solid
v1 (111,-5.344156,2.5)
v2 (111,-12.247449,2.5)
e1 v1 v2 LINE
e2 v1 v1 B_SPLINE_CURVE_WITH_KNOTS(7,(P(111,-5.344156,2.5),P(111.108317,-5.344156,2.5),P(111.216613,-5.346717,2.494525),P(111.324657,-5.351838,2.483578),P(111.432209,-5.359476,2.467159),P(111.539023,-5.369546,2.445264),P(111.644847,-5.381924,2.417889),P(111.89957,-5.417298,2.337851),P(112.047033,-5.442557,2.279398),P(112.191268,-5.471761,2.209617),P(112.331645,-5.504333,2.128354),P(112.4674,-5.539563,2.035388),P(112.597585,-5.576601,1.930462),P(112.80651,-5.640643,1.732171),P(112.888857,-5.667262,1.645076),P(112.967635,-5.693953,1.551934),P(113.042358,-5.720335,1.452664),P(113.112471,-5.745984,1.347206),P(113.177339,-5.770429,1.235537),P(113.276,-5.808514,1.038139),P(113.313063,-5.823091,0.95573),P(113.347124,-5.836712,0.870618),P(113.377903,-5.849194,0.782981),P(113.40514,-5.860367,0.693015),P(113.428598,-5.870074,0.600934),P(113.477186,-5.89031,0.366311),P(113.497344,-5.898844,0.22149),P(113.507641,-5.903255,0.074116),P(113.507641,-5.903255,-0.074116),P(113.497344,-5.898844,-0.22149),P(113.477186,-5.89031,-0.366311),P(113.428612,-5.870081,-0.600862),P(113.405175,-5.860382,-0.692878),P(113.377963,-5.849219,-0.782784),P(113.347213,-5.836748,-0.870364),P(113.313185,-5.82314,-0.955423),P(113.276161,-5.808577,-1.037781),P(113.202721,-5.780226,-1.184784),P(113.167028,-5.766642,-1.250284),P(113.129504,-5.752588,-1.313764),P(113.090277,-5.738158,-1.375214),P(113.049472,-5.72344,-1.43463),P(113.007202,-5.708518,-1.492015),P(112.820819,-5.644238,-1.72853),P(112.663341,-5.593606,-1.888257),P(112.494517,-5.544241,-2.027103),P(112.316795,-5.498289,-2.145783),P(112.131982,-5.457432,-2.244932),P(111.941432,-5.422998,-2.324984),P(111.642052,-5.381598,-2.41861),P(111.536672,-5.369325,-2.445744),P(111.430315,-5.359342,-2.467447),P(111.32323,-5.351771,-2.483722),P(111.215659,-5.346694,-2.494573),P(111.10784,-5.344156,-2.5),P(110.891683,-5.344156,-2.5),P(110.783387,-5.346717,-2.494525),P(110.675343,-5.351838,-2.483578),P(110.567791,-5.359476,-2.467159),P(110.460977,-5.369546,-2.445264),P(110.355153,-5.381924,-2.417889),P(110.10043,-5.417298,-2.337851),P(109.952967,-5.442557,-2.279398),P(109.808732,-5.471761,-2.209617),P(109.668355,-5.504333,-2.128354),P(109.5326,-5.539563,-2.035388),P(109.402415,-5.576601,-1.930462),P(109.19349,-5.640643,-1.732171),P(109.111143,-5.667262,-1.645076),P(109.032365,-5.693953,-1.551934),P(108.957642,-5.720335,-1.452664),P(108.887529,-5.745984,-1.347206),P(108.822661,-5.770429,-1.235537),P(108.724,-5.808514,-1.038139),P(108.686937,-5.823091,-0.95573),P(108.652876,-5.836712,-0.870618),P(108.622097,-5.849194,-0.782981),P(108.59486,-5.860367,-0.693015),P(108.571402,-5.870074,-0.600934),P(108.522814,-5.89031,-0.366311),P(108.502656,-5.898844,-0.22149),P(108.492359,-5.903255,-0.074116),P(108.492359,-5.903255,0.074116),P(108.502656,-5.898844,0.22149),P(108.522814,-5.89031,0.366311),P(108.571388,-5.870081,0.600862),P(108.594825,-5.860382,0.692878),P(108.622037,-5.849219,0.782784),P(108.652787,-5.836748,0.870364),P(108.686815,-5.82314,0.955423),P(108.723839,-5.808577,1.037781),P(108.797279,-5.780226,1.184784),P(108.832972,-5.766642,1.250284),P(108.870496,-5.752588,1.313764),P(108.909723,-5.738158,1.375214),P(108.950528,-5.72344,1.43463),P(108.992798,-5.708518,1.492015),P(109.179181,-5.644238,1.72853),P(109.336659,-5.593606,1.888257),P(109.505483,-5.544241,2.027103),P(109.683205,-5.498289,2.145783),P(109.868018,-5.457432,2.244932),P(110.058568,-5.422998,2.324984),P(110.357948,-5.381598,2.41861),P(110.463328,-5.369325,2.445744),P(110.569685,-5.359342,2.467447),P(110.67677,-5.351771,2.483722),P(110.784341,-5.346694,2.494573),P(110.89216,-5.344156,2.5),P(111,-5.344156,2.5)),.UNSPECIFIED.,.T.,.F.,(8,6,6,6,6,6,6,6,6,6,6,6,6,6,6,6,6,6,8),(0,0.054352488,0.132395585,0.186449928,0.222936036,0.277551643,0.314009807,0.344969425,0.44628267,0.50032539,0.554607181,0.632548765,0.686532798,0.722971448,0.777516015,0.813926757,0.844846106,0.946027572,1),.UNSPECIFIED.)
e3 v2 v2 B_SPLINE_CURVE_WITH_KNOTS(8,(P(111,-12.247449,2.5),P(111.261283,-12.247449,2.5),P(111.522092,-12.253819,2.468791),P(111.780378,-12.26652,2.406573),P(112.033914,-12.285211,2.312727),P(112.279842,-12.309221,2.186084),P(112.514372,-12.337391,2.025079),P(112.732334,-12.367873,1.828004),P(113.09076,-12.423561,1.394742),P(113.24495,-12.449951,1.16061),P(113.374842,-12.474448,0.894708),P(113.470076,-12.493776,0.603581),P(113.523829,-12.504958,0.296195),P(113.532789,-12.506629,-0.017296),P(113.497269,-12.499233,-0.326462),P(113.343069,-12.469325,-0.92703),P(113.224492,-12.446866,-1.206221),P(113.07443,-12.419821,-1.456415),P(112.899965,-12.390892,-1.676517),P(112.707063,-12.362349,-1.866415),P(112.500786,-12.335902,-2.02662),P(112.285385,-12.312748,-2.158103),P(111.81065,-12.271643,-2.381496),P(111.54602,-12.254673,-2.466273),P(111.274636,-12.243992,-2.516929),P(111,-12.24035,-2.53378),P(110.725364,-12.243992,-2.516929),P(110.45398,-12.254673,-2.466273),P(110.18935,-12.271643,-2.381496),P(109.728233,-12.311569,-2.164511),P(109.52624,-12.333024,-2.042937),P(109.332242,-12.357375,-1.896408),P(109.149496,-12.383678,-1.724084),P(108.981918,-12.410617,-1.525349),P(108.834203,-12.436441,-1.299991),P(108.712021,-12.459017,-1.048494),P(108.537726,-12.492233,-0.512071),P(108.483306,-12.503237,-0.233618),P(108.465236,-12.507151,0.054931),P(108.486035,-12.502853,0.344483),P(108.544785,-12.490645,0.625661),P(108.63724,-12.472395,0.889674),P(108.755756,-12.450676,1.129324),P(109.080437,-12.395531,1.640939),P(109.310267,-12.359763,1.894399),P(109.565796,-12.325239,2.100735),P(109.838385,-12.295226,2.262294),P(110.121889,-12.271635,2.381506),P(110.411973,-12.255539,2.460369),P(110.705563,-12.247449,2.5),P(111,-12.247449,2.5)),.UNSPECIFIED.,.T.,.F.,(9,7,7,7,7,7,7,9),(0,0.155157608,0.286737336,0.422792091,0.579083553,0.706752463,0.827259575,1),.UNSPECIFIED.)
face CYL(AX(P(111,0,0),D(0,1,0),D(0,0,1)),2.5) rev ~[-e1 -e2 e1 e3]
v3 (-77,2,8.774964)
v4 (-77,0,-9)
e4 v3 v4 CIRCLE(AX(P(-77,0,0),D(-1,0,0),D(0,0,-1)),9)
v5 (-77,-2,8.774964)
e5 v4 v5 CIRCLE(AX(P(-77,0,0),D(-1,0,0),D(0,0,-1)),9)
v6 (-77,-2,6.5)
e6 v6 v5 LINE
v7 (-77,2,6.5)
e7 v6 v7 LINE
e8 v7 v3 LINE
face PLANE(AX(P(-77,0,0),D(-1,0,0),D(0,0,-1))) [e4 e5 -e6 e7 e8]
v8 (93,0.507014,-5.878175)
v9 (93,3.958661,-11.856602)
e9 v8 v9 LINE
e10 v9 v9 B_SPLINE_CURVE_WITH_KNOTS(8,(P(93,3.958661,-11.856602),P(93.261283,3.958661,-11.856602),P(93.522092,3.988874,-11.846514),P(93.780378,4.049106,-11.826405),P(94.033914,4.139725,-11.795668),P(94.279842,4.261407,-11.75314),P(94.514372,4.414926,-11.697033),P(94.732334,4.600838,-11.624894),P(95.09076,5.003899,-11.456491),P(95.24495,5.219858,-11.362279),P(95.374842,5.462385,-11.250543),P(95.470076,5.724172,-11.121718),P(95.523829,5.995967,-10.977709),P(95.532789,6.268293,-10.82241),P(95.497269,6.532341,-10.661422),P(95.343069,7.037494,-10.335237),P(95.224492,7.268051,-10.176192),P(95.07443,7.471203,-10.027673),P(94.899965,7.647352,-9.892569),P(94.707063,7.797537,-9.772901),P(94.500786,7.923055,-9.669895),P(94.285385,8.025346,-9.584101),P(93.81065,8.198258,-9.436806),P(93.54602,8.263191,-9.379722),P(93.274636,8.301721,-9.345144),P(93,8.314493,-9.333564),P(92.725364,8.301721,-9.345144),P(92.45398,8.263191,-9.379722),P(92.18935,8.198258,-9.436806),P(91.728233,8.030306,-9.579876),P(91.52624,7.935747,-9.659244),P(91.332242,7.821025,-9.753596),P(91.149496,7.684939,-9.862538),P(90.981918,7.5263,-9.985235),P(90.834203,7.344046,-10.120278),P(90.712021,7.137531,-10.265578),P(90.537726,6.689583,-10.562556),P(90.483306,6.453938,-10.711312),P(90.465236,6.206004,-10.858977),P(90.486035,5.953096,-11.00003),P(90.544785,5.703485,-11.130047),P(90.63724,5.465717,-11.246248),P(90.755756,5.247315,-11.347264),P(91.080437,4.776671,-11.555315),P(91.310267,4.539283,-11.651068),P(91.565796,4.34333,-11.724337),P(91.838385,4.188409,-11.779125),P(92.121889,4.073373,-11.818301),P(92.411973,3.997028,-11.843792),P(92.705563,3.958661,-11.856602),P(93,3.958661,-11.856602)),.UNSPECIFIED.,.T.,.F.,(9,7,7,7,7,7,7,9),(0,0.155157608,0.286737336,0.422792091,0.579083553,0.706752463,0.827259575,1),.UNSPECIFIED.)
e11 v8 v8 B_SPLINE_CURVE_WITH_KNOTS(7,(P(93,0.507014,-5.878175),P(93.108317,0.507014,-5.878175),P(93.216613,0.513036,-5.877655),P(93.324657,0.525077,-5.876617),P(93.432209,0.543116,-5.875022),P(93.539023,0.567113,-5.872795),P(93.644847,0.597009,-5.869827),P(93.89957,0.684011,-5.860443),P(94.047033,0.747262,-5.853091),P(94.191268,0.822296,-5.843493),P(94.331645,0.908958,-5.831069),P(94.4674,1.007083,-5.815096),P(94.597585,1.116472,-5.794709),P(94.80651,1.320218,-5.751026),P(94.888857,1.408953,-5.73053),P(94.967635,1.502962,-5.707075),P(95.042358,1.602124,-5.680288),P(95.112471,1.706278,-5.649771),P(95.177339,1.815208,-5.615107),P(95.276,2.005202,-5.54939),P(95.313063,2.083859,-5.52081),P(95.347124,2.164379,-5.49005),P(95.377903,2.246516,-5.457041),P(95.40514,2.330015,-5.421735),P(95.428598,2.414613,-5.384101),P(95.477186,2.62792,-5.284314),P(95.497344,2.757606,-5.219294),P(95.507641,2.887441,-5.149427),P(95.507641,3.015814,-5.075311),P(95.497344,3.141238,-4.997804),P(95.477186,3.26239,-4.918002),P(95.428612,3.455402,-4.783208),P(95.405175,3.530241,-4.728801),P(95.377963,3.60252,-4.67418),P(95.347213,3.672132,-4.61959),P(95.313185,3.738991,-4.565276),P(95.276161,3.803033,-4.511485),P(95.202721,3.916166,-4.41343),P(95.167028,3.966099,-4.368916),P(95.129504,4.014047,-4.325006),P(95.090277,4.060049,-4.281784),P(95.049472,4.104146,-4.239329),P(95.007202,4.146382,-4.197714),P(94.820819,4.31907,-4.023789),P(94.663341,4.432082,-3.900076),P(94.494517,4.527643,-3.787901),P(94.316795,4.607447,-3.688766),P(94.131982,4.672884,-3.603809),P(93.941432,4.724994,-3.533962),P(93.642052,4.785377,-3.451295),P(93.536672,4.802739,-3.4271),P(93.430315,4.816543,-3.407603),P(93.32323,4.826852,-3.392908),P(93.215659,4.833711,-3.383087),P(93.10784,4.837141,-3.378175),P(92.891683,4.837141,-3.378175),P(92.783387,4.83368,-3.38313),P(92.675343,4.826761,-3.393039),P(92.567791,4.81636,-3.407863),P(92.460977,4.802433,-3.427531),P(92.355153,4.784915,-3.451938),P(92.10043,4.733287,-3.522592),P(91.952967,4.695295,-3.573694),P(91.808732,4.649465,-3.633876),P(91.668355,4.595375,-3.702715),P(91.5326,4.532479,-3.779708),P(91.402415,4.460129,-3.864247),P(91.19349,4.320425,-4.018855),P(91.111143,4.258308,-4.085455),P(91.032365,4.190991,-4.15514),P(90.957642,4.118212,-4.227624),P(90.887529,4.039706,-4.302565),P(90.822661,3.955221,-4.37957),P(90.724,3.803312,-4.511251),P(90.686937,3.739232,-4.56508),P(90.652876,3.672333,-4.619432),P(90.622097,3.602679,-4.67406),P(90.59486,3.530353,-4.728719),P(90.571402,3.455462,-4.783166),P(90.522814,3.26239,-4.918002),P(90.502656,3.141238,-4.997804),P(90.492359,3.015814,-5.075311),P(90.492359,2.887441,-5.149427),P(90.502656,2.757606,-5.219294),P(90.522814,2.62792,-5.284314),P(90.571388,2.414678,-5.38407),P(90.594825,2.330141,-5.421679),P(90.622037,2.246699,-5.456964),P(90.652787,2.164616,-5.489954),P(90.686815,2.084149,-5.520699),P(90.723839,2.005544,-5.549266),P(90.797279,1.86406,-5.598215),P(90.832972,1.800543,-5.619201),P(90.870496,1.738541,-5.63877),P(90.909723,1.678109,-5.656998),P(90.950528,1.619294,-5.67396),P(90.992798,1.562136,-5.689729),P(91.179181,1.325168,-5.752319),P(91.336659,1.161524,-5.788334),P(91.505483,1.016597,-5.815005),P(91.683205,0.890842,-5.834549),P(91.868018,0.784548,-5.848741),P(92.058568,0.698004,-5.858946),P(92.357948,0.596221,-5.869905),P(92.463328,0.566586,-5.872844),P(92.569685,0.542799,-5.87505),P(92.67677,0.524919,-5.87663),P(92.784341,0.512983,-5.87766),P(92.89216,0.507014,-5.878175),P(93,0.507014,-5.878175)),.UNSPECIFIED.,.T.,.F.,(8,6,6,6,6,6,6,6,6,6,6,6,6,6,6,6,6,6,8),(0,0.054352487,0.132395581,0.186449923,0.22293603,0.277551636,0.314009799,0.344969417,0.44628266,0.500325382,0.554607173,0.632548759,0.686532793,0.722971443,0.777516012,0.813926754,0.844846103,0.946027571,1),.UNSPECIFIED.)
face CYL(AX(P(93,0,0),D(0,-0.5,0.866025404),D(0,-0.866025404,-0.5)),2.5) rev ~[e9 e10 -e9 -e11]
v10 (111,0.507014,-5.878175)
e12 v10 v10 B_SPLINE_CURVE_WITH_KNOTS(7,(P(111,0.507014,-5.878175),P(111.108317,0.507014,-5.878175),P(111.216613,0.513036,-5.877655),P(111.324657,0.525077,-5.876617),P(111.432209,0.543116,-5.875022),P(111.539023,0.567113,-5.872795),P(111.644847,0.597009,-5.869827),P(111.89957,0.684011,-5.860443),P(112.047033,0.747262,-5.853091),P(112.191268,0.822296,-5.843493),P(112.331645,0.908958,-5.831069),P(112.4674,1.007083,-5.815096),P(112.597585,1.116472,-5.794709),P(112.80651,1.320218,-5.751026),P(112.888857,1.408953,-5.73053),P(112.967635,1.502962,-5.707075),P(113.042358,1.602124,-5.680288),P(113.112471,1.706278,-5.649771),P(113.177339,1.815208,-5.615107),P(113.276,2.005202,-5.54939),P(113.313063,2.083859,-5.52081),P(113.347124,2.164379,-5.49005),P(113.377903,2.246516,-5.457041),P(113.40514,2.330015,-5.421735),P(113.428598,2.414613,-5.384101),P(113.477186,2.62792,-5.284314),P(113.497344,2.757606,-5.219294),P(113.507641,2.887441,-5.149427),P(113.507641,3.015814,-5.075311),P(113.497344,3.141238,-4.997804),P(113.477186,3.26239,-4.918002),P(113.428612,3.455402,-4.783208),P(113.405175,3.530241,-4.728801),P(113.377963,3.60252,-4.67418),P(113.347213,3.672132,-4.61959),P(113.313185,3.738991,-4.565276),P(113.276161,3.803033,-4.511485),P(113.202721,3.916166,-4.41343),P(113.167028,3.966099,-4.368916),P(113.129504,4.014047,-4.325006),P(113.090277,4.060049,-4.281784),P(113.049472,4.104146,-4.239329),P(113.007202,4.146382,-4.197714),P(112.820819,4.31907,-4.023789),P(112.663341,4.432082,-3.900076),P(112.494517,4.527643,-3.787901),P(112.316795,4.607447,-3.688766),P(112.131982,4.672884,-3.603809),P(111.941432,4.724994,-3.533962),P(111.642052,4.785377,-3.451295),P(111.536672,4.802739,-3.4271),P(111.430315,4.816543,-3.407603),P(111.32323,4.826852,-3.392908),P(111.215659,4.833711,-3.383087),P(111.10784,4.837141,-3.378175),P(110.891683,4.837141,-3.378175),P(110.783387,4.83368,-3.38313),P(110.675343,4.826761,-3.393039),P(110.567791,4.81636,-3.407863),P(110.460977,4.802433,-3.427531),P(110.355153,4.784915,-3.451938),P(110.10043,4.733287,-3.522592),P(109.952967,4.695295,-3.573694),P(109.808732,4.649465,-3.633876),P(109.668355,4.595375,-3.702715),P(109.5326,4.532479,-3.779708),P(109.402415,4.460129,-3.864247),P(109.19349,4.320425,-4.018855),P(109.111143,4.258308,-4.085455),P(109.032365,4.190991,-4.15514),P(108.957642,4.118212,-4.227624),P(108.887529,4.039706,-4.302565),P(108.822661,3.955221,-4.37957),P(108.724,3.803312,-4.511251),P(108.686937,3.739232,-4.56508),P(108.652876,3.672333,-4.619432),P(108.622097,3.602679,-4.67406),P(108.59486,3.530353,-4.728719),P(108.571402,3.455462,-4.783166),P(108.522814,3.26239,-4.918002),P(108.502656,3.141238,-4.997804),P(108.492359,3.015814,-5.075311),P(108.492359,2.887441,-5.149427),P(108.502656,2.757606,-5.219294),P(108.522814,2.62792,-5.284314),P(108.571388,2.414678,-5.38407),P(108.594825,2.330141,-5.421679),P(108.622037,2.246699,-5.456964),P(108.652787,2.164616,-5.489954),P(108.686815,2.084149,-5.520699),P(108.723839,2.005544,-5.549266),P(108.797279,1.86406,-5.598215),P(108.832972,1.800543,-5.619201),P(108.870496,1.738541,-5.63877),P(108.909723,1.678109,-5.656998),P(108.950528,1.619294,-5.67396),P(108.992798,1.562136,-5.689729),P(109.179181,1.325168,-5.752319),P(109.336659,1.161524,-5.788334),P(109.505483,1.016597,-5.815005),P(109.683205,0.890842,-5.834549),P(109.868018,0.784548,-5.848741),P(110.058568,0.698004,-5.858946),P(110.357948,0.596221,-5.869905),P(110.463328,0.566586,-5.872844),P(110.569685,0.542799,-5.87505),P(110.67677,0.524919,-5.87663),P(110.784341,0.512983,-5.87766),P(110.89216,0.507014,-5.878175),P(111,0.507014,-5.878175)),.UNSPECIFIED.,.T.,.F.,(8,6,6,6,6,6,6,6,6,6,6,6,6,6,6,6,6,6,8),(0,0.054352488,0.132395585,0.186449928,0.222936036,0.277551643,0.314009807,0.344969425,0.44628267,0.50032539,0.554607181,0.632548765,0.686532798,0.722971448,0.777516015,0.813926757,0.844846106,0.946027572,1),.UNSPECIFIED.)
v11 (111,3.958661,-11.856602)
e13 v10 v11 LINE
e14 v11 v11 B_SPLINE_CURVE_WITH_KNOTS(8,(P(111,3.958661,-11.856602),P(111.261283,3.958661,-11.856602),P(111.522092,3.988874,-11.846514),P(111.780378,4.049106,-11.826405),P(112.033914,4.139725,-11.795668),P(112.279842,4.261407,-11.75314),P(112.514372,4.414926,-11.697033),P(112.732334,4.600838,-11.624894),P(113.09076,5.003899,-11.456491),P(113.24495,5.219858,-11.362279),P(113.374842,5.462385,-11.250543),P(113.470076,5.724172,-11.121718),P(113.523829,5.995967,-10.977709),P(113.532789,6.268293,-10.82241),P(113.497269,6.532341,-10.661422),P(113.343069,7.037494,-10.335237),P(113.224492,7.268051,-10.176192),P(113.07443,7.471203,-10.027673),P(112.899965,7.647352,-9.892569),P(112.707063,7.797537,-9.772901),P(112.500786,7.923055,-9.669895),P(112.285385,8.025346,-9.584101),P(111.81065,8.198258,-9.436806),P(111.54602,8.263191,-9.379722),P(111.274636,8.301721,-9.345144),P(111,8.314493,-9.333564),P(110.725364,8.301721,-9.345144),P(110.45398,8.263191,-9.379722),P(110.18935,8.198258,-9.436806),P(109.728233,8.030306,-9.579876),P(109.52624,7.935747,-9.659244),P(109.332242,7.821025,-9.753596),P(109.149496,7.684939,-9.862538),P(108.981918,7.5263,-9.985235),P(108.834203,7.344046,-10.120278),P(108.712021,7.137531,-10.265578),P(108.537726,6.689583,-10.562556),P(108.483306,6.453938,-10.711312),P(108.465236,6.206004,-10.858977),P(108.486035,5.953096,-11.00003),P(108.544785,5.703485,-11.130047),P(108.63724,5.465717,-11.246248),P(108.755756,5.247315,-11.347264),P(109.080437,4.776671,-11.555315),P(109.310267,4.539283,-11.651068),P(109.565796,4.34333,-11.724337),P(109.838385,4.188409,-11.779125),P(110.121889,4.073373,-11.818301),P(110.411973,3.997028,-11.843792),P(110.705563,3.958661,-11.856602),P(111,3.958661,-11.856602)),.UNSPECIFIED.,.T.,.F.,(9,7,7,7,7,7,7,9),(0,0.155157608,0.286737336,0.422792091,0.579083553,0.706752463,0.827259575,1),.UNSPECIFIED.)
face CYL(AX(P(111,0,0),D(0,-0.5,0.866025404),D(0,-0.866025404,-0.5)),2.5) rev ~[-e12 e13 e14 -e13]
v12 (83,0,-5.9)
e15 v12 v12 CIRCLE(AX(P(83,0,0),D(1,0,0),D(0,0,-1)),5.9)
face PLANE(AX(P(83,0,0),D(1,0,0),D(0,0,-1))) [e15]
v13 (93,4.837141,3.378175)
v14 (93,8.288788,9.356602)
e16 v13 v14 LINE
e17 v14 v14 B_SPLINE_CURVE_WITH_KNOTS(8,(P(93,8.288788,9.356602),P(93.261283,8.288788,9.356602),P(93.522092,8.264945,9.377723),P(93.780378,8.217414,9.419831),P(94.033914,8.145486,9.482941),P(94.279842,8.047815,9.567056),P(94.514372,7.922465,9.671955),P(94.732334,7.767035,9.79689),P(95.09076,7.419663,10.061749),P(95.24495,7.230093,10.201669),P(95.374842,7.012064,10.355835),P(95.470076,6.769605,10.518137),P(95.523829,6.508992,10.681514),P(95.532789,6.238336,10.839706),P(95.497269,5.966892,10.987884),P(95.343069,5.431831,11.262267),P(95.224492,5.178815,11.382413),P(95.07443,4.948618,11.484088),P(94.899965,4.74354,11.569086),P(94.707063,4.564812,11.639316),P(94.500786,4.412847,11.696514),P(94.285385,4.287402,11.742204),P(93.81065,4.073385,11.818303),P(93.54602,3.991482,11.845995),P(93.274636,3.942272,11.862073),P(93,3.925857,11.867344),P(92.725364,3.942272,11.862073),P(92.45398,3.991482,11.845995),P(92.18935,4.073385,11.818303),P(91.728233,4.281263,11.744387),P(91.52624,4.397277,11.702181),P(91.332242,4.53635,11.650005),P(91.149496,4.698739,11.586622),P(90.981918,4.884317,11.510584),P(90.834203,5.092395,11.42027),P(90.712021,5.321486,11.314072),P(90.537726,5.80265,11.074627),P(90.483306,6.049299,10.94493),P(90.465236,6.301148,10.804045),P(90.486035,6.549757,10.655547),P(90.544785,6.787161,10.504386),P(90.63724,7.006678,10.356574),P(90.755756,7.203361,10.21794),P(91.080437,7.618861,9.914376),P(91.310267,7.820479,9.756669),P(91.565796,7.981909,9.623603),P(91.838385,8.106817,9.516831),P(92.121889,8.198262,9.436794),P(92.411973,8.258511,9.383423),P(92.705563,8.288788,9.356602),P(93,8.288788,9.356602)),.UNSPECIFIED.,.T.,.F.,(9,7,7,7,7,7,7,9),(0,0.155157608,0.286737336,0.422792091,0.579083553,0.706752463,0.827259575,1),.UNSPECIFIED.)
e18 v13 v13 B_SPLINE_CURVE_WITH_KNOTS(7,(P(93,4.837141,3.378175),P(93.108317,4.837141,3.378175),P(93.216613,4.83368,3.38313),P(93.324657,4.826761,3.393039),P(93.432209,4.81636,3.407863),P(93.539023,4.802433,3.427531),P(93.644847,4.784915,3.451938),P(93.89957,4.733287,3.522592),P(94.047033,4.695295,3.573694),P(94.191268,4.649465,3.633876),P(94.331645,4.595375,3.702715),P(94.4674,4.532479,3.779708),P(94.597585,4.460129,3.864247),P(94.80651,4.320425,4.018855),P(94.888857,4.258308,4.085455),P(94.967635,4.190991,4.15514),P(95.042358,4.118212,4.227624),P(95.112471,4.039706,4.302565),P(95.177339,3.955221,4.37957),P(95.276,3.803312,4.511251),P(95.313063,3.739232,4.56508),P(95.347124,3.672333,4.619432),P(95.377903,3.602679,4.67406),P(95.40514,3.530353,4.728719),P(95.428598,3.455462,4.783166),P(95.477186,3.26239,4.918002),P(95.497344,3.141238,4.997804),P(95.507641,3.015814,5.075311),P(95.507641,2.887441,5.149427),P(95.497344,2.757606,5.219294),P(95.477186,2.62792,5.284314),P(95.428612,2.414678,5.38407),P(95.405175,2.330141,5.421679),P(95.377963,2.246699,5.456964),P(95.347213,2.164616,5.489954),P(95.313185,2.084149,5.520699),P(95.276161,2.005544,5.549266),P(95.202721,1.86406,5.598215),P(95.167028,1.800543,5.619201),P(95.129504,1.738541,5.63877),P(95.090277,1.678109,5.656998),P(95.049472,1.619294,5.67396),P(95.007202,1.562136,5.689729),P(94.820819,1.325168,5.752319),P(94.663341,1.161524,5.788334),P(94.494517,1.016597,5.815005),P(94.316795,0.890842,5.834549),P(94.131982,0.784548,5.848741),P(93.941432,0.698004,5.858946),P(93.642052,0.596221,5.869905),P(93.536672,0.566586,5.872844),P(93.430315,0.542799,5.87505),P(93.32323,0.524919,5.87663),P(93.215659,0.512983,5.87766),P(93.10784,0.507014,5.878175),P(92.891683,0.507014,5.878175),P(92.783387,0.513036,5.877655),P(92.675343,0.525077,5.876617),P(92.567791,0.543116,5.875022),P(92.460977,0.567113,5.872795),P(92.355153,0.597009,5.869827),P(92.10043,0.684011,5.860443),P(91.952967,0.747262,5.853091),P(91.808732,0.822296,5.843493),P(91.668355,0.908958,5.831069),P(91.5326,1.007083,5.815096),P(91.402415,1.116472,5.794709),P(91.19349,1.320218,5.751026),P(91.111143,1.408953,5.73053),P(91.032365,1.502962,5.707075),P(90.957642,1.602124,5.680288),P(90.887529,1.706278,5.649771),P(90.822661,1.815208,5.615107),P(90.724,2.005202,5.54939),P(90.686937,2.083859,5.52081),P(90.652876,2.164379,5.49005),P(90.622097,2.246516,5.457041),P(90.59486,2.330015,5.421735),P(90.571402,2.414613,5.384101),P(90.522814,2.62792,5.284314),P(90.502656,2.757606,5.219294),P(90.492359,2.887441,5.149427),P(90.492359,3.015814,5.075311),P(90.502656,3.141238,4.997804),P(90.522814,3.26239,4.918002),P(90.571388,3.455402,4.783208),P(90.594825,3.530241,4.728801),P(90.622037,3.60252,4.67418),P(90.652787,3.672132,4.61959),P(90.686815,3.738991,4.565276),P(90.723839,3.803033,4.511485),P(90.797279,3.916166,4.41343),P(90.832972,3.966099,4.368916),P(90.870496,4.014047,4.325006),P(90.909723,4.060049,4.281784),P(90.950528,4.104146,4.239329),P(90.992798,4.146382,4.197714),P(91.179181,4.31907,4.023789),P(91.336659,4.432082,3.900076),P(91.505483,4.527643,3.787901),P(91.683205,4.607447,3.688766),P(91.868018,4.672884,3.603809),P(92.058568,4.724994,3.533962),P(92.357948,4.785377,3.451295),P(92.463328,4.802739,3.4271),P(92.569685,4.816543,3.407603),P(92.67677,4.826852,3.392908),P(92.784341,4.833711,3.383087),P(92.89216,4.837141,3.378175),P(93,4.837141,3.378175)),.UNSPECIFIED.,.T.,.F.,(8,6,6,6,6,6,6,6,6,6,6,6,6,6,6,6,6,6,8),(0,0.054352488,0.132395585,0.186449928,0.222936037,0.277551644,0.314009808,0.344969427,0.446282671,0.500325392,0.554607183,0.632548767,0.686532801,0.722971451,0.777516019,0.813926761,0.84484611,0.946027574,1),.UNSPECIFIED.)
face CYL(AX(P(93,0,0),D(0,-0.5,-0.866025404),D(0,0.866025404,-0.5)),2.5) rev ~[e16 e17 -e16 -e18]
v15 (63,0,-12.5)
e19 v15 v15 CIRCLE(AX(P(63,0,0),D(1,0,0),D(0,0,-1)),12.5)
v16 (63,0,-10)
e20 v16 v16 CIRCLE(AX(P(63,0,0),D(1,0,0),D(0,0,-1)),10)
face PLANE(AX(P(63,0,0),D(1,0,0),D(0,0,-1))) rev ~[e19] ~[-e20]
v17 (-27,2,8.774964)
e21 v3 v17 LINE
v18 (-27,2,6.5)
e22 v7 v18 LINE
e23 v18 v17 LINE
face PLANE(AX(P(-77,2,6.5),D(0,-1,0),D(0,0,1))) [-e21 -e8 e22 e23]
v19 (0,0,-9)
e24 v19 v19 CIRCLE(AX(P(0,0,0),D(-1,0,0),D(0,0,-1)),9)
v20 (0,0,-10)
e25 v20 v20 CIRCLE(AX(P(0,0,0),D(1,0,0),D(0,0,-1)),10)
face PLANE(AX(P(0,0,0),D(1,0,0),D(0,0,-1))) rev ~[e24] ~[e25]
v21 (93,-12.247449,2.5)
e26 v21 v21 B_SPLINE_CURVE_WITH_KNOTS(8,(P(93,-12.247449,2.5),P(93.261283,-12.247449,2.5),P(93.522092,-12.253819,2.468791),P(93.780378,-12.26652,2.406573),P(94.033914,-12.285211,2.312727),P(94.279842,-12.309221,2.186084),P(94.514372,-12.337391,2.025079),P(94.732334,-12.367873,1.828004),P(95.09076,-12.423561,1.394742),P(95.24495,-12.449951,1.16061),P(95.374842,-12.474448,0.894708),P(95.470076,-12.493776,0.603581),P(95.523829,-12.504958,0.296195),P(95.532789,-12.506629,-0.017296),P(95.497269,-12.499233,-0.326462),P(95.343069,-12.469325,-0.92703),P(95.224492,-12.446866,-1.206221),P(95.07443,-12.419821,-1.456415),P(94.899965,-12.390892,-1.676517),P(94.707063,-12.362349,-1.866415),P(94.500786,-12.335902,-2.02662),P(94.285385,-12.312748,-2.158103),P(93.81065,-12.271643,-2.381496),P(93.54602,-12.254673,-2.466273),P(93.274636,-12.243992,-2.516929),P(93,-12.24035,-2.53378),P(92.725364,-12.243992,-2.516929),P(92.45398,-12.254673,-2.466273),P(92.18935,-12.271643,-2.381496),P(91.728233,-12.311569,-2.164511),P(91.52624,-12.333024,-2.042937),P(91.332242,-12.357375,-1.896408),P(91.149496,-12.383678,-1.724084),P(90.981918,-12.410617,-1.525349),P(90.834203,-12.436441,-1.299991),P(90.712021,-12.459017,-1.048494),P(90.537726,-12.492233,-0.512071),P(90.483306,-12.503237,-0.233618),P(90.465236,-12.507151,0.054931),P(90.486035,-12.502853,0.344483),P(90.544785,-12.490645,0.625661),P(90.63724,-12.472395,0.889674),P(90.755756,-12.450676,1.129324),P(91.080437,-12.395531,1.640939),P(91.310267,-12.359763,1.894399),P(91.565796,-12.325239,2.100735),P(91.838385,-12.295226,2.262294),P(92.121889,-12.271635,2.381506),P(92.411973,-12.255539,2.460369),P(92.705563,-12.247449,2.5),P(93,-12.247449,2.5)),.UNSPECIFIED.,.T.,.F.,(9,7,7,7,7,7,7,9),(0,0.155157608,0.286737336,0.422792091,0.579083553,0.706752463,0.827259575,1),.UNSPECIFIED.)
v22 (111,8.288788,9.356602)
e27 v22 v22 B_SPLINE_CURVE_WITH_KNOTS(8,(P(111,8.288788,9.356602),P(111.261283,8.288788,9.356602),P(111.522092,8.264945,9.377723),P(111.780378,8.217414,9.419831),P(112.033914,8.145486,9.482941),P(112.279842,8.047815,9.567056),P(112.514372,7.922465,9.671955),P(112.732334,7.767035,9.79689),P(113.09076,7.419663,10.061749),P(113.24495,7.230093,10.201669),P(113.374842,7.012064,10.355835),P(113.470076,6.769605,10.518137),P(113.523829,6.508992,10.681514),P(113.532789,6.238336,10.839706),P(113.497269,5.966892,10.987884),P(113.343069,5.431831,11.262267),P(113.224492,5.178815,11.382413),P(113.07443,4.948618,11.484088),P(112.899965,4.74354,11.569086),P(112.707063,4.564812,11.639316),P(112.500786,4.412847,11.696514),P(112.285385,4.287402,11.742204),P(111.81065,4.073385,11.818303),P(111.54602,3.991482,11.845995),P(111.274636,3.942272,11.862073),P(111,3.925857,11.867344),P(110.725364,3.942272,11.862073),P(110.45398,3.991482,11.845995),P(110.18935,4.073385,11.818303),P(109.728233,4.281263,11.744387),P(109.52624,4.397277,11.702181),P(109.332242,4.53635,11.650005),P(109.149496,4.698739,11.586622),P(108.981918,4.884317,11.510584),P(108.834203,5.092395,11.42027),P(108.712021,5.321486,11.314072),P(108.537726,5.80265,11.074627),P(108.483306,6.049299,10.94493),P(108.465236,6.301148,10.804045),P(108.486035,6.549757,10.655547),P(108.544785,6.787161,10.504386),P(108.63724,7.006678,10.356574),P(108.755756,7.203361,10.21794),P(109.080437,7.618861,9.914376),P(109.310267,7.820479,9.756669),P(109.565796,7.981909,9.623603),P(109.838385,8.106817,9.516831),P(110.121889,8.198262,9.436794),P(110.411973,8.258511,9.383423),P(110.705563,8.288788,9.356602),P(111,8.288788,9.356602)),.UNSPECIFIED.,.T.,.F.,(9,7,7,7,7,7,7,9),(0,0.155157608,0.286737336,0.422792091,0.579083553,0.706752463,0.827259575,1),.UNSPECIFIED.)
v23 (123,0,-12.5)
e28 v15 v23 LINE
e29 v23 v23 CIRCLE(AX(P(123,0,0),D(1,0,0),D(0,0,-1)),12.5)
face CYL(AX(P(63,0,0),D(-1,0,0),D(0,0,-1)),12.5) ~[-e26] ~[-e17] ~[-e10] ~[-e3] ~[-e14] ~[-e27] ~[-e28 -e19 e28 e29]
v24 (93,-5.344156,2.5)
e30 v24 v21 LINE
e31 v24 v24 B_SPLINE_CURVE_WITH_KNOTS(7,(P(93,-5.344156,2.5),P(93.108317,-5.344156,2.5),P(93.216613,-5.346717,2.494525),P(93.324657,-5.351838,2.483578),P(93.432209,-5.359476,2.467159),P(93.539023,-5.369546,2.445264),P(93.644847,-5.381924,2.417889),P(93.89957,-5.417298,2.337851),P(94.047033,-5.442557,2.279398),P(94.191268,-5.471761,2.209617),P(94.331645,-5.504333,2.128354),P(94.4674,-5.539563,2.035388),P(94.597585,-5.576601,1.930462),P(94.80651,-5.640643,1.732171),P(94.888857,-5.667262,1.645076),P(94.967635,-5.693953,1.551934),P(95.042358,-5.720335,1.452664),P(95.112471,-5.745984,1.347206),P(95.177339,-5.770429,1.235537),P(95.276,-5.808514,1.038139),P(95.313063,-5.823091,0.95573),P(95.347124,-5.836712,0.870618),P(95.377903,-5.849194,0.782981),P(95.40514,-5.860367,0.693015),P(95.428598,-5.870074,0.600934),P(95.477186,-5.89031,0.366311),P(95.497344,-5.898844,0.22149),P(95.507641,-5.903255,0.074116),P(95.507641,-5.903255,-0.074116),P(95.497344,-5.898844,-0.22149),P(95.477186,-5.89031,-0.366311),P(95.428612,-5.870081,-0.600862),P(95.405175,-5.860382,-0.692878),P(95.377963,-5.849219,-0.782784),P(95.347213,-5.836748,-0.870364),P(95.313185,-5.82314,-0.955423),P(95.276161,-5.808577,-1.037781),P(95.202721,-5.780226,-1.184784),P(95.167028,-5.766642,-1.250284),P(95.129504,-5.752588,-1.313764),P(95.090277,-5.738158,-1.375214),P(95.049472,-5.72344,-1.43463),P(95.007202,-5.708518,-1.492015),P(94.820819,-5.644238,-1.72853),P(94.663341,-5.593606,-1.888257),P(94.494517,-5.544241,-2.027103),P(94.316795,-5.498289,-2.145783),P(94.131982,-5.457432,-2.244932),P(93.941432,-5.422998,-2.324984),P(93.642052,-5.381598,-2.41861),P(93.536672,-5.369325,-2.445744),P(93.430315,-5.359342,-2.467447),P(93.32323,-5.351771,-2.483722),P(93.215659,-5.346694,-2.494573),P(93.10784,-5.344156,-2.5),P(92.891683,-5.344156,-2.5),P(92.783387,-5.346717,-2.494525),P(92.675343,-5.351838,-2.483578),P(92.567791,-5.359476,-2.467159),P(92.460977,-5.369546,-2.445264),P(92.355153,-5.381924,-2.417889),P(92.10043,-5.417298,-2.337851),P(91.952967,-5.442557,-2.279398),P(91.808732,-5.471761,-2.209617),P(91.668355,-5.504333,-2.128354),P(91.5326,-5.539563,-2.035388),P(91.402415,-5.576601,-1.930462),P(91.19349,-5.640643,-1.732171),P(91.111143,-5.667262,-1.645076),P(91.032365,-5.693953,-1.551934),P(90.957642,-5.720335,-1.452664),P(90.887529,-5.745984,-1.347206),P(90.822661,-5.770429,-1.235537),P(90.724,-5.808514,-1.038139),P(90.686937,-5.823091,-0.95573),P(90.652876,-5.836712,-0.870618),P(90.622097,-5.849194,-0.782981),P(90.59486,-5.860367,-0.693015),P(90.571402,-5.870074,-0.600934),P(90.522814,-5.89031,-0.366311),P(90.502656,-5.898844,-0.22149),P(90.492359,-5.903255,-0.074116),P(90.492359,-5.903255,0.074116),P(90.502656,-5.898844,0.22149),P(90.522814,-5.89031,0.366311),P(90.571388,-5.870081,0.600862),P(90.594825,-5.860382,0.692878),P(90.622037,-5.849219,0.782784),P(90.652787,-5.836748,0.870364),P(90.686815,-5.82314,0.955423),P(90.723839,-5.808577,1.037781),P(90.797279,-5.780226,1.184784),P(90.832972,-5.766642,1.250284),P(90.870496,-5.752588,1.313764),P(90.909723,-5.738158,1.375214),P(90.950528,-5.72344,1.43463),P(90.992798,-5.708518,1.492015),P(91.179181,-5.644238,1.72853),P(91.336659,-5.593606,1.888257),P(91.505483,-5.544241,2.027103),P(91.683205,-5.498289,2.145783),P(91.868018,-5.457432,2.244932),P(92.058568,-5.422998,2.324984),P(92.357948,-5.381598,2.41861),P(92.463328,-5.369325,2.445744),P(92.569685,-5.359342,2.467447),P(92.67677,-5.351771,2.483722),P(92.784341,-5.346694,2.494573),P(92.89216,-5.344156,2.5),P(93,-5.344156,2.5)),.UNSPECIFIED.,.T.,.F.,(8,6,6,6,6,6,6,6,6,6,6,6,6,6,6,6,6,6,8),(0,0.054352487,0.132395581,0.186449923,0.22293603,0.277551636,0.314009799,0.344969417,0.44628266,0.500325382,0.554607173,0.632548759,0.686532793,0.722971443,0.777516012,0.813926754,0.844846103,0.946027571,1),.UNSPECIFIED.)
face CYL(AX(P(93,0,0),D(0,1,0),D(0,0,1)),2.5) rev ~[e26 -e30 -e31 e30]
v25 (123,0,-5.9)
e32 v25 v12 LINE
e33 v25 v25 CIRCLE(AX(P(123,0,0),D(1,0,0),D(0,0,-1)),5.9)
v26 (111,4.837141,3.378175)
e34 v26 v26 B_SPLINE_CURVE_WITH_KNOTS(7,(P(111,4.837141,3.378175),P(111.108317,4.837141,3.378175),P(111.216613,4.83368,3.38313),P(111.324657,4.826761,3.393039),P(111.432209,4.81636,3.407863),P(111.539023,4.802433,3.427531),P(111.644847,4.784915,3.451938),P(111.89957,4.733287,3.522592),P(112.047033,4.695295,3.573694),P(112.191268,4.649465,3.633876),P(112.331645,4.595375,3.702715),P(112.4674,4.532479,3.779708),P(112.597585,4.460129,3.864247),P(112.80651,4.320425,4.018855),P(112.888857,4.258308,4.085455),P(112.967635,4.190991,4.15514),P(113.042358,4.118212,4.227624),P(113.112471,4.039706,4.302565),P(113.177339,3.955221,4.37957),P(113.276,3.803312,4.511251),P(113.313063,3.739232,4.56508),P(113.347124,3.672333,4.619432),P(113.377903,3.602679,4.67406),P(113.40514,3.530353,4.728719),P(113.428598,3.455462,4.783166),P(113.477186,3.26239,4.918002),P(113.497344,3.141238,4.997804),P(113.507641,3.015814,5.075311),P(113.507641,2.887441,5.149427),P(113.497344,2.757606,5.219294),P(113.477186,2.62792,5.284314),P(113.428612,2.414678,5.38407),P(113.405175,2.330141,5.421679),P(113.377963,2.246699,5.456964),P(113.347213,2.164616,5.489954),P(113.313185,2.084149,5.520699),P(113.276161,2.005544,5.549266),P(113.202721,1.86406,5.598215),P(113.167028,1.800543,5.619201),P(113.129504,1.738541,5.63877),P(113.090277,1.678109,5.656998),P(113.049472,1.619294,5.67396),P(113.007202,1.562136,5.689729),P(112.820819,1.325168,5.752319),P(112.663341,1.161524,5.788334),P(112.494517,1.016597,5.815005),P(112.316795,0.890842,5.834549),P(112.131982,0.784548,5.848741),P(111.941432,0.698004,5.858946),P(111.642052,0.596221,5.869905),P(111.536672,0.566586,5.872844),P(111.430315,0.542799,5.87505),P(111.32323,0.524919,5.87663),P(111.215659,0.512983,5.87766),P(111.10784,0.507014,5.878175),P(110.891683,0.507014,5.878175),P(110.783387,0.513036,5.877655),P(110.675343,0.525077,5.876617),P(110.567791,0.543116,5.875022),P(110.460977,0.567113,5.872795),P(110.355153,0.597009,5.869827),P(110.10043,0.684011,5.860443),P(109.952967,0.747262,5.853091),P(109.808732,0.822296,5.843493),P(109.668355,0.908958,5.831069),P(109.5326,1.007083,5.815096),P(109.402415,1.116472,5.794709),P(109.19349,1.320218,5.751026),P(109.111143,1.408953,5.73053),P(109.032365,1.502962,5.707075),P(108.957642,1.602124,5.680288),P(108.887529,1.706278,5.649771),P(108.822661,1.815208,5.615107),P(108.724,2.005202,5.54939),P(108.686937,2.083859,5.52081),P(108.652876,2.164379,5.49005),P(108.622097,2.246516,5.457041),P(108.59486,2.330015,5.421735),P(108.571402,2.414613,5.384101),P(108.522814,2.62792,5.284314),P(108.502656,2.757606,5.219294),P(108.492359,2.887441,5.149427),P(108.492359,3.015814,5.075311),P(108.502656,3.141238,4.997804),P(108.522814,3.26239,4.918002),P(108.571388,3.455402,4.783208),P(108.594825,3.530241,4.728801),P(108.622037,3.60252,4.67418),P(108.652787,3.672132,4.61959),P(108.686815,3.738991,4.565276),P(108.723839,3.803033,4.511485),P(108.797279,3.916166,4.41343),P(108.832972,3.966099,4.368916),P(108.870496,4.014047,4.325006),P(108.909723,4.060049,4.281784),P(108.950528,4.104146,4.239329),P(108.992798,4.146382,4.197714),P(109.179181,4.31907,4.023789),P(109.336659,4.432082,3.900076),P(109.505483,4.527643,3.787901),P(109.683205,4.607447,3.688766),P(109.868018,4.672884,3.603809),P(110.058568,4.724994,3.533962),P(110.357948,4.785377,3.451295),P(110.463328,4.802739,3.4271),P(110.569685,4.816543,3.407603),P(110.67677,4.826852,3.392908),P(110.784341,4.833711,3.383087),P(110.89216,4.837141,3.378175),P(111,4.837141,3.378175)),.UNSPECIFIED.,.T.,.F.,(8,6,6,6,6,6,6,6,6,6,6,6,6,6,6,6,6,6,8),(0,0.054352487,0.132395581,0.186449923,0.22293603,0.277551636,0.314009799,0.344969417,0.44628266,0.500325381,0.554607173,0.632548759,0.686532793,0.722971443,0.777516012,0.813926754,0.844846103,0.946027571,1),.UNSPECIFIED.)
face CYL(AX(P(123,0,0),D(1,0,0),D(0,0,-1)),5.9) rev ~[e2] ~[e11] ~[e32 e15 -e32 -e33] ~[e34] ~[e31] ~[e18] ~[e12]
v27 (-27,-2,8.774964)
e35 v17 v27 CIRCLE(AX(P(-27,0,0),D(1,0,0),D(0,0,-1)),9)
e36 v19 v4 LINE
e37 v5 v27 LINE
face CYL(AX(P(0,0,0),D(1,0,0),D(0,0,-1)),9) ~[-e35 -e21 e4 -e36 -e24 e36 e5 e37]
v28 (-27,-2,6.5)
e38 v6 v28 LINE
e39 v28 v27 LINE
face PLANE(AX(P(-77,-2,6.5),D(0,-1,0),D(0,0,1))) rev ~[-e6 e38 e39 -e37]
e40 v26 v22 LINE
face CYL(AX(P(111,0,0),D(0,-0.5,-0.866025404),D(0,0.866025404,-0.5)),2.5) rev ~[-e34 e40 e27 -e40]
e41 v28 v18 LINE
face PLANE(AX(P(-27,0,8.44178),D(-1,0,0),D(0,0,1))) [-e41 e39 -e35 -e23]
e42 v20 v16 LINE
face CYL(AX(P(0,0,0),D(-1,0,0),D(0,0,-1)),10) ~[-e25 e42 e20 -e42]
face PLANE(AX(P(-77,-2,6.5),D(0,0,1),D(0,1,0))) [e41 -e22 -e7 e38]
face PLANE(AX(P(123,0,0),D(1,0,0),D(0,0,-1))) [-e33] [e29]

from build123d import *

# Parameters (mm, degrees)
SKETCH2_R           = 10
BOSS_EXTRUDE1_DEPTH = 63
SKETCH3_R           = 12.5
BOSS_EXTRUDE2_DEPTH = 60
SKETCH5_R           = 5.9
CUT_EXTRUDE1_DEPTH  = 40
SKETCH6_R           = 2.5
CUT_EXTRUDE2_DEPTH  = 55
CIRPATTERN1_COUNT   = 3
SKETCH8_R           = 9
BOSS_EXTRUDE3_DEPTH = 77
SKETCH9_W           = 3.883559786
SKETCH9_H           = 4
CUT_EXTRUDE3_DEPTH  = 50


with BuildPart() as part:
    # Sketch2 → Boss-Extrude1 (new body)
    with BuildSketch(Plane(origin=(0, 0, 0), x_dir=(0, 0, -1), z_dir=(1, 0, 0))):
        Circle(SKETCH2_R)
    extrude(amount=BOSS_EXTRUDE1_DEPTH)

    # Sketch3 → Boss-Extrude2 (add)
    with BuildSketch(Plane(origin=(63, 0, 0), x_dir=(0, 0, -1), z_dir=(1, 0, 0))):
        Circle(SKETCH3_R)
    extrude(amount=BOSS_EXTRUDE2_DEPTH)

    # Sketch5 → Cut-Extrude1 (cut)
    with BuildSketch(Plane(origin=(123, 0, 0), x_dir=(0, 0, -1), z_dir=(1, 0, 0))):
        Circle(SKETCH5_R)
    extrude(amount=-CUT_EXTRUDE1_DEPTH, mode=Mode.SUBTRACT)

    # Sketch6 → Cut-Extrude2 (cut)
    with BuildSketch(Plane(origin=(0, 0, 0), x_dir=(1, 0, 0), z_dir=(0, 1, 0))):
        with Locations(Location((93, 0, 0), (0, 0, 270))):
            Circle(SKETCH6_R)
        with Locations(Location((111, 0, 0), (0, 0, 270))):
            Circle(SKETCH6_R)
    cut_extrude2 = extrude(amount=-CUT_EXTRUDE2_DEPTH, mode=Mode.SUBTRACT)

    # CirPattern1: Cut-Extrude2 ×3 about axis
    cirpattern1_axis = Axis((123, 0, 0), (1, 0, 0))
    for i in range(1, CIRPATTERN1_COUNT):
        add(cut_extrude2.rotate(cirpattern1_axis, i * 360 / CIRPATTERN1_COUNT), mode=Mode.SUBTRACT)

    # Sketch8 → Boss-Extrude3 (add)
    with BuildSketch(Plane.ZY):
        with Locations(Location((0, 0, 0), (0, 0, 180))):
            Circle(SKETCH8_R)
    extrude(amount=BOSS_EXTRUDE3_DEPTH)

    # Sketch9 → Cut-Extrude3 (cut)
    with BuildSketch(Plane.ZY.offset(77)):
        with Locations((8.441779893, 0)):
            Rectangle(SKETCH9_W, SKETCH9_H)
    extrude(amount=-CUT_EXTRUDE3_DEPTH, mode=Mode.SUBTRACT)


solid = part.part
